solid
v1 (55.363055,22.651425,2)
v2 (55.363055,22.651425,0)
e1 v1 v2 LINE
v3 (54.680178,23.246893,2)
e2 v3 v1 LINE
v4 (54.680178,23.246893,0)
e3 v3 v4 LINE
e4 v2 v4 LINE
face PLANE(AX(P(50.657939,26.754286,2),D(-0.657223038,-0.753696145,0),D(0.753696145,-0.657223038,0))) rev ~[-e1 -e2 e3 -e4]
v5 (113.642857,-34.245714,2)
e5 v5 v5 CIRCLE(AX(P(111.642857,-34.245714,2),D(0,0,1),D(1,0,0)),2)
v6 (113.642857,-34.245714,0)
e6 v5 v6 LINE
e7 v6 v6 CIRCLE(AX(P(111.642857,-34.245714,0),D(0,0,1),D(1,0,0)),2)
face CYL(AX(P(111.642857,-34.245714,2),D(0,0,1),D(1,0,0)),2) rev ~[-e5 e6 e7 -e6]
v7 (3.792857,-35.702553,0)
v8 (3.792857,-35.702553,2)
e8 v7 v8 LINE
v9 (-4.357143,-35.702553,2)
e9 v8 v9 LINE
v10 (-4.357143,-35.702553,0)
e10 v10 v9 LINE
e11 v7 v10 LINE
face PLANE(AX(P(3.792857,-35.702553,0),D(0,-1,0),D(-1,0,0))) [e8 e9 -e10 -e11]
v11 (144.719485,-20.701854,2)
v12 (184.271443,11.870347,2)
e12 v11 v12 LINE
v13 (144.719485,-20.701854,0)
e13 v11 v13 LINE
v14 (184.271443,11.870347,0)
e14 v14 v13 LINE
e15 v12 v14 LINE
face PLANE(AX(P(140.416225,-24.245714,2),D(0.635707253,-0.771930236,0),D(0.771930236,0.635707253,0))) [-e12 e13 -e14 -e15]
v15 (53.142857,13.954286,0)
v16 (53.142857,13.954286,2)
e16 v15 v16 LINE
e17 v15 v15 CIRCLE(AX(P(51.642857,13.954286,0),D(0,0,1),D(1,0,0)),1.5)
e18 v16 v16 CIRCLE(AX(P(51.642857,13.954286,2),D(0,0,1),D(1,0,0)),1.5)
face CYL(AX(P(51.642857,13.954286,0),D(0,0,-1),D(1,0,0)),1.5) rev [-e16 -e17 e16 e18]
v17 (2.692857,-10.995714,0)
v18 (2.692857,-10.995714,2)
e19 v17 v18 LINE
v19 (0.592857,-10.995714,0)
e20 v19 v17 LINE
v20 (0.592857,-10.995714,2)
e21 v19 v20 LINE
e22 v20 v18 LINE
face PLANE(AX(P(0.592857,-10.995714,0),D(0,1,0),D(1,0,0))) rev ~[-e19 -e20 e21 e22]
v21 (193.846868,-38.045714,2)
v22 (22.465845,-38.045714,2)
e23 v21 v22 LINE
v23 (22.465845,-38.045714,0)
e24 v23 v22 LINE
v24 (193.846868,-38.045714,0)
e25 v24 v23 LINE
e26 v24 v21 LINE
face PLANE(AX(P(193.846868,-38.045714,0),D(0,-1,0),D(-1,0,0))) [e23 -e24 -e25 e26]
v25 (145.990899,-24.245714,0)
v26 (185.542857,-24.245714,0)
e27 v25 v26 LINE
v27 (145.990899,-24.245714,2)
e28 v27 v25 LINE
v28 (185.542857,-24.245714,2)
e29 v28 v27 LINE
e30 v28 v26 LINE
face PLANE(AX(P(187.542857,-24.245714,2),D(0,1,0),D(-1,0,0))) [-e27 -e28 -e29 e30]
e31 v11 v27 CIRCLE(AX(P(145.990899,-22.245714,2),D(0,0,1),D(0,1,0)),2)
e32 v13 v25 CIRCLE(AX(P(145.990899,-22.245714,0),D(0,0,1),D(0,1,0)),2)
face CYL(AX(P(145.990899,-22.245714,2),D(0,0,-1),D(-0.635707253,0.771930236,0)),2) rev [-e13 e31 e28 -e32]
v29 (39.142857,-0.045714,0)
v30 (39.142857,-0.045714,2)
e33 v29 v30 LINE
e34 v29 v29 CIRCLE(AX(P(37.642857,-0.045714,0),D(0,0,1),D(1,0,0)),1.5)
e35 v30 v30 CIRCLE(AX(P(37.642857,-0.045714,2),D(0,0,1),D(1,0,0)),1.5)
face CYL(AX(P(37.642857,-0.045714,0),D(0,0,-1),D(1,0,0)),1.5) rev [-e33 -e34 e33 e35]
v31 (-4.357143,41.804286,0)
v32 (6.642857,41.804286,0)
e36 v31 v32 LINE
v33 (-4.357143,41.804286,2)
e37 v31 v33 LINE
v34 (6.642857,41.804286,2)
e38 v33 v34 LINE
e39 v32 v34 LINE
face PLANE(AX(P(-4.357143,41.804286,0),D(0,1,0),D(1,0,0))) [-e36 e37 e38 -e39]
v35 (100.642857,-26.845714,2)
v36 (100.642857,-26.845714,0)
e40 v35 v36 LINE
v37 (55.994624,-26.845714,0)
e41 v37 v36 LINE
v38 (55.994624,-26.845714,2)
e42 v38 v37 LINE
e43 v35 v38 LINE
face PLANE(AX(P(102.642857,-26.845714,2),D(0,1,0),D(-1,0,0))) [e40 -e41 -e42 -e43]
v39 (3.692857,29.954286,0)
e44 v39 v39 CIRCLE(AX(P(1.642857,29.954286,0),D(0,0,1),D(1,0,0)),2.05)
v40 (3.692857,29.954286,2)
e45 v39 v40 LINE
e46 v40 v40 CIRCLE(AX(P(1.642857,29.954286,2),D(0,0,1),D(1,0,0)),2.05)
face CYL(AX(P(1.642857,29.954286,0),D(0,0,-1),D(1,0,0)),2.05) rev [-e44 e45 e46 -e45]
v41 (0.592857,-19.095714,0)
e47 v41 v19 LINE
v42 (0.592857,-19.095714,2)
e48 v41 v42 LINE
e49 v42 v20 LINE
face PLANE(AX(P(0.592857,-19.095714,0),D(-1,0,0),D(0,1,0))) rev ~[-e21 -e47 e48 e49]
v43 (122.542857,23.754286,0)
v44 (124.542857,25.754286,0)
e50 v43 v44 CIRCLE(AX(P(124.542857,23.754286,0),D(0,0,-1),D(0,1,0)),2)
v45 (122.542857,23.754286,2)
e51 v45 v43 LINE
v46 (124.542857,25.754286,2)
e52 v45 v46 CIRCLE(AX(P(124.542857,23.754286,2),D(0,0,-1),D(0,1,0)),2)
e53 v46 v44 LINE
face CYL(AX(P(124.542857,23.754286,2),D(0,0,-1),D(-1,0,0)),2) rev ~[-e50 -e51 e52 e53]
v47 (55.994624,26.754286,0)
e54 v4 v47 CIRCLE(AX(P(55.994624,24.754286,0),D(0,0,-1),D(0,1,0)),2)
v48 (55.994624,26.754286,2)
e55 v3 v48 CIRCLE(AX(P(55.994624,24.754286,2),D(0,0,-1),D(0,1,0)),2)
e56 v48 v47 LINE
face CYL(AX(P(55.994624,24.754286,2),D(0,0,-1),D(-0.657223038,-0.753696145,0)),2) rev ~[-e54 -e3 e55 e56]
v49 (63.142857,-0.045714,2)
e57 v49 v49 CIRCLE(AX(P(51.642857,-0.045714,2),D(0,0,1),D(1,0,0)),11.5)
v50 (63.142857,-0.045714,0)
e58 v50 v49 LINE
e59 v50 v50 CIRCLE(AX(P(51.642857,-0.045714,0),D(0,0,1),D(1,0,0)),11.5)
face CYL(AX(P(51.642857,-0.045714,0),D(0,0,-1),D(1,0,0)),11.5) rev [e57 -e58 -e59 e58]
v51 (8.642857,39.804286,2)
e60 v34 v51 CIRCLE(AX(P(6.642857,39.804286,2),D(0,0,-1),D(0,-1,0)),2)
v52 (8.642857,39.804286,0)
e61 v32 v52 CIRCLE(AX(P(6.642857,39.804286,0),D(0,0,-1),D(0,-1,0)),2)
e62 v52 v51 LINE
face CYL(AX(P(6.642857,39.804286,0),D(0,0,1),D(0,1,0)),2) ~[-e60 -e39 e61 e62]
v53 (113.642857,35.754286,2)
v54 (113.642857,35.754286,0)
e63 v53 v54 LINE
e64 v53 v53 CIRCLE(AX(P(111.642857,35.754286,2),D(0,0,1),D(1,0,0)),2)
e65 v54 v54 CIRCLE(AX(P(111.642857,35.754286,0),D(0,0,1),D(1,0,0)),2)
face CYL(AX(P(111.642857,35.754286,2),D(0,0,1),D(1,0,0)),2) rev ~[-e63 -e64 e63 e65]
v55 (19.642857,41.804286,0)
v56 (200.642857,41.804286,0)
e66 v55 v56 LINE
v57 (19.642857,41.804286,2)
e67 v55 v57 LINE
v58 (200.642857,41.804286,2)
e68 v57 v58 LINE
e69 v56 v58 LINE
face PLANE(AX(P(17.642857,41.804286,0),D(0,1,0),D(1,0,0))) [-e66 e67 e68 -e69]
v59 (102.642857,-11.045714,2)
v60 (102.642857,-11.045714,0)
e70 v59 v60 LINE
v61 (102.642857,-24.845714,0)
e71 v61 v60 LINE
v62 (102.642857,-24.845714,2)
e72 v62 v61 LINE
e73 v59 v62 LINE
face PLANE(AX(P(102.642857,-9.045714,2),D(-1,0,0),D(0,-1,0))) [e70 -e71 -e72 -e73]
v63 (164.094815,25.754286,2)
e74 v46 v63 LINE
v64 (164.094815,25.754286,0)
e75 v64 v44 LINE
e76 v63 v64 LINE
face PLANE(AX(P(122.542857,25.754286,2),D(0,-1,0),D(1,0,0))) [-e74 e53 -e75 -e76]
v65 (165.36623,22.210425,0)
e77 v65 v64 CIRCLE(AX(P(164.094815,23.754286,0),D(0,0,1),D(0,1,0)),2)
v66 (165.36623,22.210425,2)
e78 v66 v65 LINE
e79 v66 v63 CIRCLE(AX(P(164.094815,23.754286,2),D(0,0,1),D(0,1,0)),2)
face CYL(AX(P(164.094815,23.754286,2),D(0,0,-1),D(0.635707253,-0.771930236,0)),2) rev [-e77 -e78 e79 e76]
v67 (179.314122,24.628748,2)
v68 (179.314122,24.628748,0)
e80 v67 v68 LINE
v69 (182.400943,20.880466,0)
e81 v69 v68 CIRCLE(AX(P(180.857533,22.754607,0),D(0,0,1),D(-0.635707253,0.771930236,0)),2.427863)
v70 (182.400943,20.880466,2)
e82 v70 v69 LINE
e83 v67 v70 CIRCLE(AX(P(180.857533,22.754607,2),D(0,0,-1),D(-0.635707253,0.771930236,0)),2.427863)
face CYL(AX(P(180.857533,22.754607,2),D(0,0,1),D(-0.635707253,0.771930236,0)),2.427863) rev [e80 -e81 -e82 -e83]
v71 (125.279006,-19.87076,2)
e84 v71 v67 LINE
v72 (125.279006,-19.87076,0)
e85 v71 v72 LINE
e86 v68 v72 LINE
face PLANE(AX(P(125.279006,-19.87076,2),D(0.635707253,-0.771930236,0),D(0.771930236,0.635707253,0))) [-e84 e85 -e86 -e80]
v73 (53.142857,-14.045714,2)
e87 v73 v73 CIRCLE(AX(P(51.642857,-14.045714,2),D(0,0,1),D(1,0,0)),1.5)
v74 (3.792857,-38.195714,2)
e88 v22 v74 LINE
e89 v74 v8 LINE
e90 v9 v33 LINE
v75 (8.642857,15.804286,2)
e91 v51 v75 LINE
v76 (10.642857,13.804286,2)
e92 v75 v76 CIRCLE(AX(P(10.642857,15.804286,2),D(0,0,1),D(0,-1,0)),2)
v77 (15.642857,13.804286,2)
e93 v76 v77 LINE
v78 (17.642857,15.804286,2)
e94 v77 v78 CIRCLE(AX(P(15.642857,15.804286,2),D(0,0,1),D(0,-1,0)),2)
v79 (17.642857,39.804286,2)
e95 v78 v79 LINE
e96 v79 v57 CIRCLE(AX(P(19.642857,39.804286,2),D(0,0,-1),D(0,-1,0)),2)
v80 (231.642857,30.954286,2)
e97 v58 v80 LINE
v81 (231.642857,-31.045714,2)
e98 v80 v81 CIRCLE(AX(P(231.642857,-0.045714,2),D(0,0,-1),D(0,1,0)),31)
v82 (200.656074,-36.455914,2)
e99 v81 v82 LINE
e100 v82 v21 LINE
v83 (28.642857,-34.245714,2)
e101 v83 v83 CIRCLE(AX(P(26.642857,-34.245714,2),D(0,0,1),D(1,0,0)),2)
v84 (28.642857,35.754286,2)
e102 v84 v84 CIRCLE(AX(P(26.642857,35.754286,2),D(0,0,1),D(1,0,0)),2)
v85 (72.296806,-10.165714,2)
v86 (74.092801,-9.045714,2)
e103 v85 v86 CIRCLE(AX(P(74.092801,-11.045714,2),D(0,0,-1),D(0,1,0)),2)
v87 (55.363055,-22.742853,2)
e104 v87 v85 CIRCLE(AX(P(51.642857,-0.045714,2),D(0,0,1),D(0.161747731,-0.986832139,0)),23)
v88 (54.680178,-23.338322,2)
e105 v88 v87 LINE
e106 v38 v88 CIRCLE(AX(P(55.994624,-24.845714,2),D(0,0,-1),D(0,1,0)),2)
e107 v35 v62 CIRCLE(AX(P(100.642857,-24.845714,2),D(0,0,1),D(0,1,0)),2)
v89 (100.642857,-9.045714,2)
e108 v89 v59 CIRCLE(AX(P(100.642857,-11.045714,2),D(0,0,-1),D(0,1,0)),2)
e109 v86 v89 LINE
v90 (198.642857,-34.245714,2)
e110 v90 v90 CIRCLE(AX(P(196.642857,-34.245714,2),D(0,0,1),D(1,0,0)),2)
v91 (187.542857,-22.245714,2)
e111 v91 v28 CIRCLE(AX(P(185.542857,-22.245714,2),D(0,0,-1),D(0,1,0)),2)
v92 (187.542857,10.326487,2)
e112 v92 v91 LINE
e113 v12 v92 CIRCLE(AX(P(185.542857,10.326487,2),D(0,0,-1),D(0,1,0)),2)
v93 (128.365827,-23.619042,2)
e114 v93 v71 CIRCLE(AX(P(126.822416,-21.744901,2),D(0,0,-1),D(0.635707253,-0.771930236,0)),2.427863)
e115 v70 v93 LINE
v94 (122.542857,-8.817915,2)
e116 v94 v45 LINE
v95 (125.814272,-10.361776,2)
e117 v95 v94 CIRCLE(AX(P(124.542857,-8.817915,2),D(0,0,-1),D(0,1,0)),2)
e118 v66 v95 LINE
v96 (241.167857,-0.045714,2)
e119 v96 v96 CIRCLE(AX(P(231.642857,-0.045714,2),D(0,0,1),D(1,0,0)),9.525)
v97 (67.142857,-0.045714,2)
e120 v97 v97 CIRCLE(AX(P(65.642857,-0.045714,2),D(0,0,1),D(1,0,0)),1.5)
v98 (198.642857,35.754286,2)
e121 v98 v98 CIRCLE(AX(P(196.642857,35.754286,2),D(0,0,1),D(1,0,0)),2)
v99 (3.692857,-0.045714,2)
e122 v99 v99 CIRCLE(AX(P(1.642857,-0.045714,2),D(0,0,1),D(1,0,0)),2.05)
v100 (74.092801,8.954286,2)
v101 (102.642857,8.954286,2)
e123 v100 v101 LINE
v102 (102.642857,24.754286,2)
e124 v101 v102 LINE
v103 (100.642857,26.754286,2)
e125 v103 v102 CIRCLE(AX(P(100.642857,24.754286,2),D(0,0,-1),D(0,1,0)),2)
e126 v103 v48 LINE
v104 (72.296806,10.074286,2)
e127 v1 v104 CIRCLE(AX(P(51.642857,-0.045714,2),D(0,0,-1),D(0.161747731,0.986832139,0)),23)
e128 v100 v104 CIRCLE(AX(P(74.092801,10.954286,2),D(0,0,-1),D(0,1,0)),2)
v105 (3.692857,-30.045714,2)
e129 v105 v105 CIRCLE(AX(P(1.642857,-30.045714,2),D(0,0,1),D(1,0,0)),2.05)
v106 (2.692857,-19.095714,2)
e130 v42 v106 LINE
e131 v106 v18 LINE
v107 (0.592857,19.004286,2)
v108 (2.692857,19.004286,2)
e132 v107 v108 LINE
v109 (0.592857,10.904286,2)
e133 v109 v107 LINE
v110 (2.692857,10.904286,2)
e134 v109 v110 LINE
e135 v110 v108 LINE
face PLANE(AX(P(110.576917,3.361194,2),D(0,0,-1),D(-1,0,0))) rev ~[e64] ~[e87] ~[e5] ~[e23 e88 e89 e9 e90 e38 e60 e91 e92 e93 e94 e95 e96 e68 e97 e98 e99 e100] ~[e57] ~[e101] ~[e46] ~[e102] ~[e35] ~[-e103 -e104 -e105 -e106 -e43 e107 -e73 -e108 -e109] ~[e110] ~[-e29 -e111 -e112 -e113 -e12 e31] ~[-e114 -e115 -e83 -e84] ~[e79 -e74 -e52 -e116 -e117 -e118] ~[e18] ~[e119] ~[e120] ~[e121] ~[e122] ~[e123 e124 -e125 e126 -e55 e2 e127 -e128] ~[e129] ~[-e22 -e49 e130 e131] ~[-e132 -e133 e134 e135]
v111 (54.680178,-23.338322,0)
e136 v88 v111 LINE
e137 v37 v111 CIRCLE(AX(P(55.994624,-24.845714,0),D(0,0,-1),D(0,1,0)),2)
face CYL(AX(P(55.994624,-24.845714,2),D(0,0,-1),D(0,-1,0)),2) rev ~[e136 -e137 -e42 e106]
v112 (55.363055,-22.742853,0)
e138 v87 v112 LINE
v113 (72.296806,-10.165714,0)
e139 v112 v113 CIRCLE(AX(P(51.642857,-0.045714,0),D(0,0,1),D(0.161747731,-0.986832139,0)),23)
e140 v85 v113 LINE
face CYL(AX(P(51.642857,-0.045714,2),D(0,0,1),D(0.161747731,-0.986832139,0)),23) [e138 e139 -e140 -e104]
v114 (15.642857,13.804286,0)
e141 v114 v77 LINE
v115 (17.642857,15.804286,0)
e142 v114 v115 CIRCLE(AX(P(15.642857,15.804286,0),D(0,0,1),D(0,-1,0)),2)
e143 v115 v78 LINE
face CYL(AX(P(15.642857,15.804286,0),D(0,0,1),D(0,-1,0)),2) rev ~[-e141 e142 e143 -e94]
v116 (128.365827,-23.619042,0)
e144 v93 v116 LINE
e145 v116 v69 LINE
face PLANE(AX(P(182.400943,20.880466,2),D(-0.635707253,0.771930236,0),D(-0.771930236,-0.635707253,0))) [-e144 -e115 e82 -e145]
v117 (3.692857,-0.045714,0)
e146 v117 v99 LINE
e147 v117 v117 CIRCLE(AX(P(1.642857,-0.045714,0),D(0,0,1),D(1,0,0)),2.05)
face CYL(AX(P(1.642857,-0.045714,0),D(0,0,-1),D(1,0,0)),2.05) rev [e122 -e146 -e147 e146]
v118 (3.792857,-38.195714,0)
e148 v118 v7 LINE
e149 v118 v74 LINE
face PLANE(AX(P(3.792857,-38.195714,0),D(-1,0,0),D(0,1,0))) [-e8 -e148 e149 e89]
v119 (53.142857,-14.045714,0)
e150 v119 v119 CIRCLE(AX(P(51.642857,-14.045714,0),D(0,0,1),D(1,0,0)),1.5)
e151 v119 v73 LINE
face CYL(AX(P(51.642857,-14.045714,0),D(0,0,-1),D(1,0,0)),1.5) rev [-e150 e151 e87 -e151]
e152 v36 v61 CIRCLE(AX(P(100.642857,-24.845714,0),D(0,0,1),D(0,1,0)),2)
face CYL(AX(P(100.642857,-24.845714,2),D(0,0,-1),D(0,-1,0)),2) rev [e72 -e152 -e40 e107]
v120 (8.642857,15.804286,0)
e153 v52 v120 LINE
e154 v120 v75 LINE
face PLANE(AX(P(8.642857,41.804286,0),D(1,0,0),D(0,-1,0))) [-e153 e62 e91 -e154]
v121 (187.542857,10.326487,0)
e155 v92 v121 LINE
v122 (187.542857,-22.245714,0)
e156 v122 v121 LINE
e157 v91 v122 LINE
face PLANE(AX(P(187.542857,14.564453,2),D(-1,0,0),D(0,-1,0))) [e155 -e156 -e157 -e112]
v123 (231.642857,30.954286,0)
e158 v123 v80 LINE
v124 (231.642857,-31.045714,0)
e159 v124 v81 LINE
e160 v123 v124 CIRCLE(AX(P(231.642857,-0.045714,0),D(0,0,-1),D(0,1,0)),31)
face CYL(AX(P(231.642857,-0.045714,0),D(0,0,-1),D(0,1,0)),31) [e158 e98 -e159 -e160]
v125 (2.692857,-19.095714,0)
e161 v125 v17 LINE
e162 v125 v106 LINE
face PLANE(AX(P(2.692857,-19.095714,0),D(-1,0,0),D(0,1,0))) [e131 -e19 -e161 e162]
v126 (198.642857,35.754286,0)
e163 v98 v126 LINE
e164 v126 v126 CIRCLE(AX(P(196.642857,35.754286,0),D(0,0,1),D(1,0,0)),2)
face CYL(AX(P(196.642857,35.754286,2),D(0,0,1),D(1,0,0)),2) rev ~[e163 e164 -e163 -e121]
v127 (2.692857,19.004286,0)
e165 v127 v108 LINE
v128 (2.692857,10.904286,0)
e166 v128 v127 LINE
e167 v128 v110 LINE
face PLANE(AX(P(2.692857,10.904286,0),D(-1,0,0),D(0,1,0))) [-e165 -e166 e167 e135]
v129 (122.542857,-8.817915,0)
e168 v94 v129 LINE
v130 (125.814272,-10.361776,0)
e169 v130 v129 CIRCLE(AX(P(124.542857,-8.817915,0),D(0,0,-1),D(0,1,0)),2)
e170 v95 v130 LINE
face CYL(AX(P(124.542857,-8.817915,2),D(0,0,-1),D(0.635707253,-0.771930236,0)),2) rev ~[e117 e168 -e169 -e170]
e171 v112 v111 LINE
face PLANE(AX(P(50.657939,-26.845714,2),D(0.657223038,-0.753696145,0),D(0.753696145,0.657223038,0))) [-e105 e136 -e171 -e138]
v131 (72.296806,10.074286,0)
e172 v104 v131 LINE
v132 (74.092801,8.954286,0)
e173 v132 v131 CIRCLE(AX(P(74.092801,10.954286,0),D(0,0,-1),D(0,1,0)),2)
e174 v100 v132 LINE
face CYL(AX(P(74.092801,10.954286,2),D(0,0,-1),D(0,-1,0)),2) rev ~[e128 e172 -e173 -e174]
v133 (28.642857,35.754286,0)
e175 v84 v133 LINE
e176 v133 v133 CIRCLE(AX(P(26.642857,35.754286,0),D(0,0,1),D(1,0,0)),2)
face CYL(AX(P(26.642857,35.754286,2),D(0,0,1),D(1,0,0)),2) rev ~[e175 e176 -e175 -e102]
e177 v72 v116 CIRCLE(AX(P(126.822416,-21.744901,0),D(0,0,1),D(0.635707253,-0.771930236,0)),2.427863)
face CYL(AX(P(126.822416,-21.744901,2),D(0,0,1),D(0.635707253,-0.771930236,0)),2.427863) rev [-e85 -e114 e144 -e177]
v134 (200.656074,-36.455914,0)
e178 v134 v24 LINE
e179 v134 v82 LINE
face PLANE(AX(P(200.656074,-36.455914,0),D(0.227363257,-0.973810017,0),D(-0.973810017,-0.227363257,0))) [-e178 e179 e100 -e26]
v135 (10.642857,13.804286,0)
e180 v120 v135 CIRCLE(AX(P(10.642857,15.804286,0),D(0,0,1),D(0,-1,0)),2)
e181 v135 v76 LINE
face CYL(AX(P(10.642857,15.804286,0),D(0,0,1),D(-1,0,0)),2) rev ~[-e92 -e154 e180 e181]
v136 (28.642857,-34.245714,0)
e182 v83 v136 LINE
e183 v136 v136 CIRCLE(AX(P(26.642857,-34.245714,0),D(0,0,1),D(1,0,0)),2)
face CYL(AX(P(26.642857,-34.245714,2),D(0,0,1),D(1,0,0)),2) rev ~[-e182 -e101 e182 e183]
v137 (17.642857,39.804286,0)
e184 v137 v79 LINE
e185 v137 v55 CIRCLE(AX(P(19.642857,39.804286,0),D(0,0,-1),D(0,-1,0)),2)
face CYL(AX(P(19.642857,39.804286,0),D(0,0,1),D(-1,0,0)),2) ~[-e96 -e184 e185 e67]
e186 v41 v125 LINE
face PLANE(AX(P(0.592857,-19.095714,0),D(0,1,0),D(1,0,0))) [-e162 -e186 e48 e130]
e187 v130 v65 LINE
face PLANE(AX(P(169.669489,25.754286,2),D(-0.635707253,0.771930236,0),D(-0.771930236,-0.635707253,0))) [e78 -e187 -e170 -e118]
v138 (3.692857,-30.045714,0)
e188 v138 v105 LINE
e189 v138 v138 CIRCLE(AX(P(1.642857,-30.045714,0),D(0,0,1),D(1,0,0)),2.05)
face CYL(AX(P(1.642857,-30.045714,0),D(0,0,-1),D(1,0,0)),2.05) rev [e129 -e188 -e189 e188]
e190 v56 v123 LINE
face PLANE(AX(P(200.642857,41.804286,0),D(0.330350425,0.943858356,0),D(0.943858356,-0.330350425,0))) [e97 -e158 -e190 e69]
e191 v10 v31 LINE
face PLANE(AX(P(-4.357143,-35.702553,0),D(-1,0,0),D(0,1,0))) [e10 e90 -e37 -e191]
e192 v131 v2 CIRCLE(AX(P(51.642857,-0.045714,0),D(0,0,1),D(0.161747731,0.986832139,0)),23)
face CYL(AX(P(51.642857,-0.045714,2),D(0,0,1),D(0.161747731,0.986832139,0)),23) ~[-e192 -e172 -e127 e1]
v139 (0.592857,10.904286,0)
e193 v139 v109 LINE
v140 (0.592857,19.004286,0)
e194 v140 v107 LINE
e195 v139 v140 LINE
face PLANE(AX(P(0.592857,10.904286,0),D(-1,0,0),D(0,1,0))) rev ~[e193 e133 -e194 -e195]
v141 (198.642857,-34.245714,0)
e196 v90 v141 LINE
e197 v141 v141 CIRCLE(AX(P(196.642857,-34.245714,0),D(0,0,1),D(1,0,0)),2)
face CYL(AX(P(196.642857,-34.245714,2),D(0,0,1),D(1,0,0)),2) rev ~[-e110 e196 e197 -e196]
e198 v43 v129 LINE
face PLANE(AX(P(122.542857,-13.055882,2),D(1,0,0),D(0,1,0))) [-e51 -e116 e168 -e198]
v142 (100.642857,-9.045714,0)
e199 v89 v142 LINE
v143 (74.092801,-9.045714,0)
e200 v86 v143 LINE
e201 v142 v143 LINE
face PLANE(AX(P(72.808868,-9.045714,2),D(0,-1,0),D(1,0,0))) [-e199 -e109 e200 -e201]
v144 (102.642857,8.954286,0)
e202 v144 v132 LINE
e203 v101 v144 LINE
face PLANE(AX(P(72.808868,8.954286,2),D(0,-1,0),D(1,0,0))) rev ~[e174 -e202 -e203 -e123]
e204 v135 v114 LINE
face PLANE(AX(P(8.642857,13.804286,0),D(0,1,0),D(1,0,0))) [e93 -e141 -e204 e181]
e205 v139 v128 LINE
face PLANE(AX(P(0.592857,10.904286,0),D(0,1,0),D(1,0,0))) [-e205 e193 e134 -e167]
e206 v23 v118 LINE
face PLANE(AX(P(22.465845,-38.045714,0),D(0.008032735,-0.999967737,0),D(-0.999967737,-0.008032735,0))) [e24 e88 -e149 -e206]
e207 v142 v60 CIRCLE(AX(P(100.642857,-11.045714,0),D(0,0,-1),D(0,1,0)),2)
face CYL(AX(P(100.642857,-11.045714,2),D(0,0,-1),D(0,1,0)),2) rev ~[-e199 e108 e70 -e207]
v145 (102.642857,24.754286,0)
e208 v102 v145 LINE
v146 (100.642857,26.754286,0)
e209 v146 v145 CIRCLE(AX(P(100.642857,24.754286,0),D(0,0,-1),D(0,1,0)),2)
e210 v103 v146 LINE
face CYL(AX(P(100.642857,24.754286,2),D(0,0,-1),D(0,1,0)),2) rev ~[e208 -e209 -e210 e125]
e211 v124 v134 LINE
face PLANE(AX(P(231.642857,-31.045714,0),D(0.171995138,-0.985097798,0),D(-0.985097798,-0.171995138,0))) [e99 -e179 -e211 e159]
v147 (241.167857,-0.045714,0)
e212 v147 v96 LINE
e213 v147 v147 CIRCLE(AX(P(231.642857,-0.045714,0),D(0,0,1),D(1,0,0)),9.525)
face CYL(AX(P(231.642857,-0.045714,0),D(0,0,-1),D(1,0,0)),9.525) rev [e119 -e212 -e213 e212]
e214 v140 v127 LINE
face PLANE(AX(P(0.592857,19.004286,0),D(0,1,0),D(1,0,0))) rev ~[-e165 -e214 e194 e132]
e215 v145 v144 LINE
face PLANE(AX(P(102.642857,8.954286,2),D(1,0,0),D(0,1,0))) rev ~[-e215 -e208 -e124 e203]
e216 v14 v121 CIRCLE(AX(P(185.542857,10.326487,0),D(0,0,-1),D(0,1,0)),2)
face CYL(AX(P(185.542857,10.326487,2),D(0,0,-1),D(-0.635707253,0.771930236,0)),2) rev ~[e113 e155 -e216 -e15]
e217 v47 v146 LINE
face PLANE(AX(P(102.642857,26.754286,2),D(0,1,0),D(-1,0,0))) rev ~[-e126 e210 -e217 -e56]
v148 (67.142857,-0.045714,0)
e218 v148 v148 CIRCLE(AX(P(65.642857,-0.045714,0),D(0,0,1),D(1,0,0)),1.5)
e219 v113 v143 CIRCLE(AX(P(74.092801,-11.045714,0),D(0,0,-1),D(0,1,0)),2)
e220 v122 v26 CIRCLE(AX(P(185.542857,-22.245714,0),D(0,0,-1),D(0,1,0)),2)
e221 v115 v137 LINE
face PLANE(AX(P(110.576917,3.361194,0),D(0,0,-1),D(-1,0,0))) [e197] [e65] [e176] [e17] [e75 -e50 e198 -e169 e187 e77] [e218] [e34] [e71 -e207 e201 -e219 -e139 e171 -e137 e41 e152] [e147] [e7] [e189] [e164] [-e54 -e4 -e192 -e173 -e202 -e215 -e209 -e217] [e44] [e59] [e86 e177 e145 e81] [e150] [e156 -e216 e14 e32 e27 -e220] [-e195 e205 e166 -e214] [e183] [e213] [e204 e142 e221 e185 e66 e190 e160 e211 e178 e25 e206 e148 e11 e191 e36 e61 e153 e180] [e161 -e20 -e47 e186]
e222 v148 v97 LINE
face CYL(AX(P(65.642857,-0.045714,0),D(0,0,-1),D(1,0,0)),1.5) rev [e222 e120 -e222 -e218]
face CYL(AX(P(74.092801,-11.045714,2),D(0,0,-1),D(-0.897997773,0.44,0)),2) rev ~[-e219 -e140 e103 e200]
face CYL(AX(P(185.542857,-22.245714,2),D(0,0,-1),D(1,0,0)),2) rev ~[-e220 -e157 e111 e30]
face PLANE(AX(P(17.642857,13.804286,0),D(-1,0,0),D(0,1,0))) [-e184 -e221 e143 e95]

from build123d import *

# Parameters (mm, degrees)
SKETCH_1_R          = 2.05
SKETCH_1_R_2        = 11.5
SKETCH_1_R_3        = 1.5
SKETCH_1_R_4        = 9.525
SKETCH_1_W          = 2.1
SKETCH_1_H          = 8.1
EXTRUDE_1_DEPTH     = 2
SKETCH_2_R          = 2
CUT_EXTRUDE_1_DEPTH = 4
FILLET_1_R          = 2


with BuildPart() as part:
    # 草图1 → 凸台-拉伸1 (new body)
    with BuildSketch(Plane.XY):
        with BuildLine():
            Line((-4.357142857, -0.045714286), (-4.357142857, 41.804285714))
            Line((-4.357142857, 41.804285714), (8.642857143, 41.804285714))
            Line((8.642857143, 41.804285714), (8.642857143, 13.804285714))
            Line((8.642857143, 13.804285714), (17.642857143, 13.804285714))
            Line((17.642857143, 13.804285714), (17.642857143, 41.804285714))
            Line((17.642857143, 41.804285714), (200.642857143, 41.804285714))
            Line((200.642857143, 41.804285714), (231.642857143, 30.954285714))
            ThreePointArc((231.642857143, 30.954285714), (262.642857143, -0.045714286), (231.642857143, -31.045714286))
            Line((231.642857143, -31.045714286), (200.656073527, -36.45591431))
            Line((200.656073527, -36.45591431), (193.846868021, -38.045714286))
            Line((193.846868021, -38.045714286), (22.465844759, -38.045714286))
            Line((22.465844759, -38.045714286), (3.792857143, -38.195714286))
            Line((3.792857143, -38.195714286), (3.792857143, -35.702553436))
            Line((3.792857143, -35.702553436), (-4.357142857, -35.702553436))
            Line((-4.357142857, -35.702553436), (-4.357142857, -0.045714286))
        make_face()
        with Locations((1.642857143, 29.954285714)):
            Circle(SKETCH_1_R, mode=Mode.SUBTRACT)
        with Locations((1.642857143, -0.045714286)):
            Circle(SKETCH_1_R, mode=Mode.SUBTRACT)
        with Locations((1.642857143, -30.045714286)):
            Circle(SKETCH_1_R, mode=Mode.SUBTRACT)
        with Locations((51.642857143, -0.045714286)):
            Circle(SKETCH_1_R_2, mode=Mode.SUBTRACT)
        with Locations((51.642857143, -14.045714286)):
            Circle(SKETCH_1_R_3, mode=Mode.SUBTRACT)
        with Locations((37.642857143, -0.045714286)):
            Circle(SKETCH_1_R_3, mode=Mode.SUBTRACT)
        with Locations((51.642857143, 13.954285714)):
            Circle(SKETCH_1_R_3, mode=Mode.SUBTRACT)
        with Locations((65.642857143, -0.045714286)):
            Circle(SKETCH_1_R_3, mode=Mode.SUBTRACT)
        with Locations((231.642857143, -0.045714286)):
            Circle(SKETCH_1_R_4, mode=Mode.SUBTRACT)
        with Locations((1.642857143, 14.954285714)):
            Rectangle(SKETCH_1_W, SKETCH_1_H, mode=Mode.SUBTRACT)
        with Locations((1.642857143, -15.045714286)):
            Rectangle(SKETCH_1_W, SKETCH_1_H, mode=Mode.SUBTRACT)
    extrude(amount=EXTRUDE_1_DEPTH)

    # 草图2 → 切除-拉伸1 (cut)
    with BuildSketch(Plane.XY.offset(2)):
        with Locations((26.642857143, 35.754285714)):
            Circle(SKETCH_2_R)
        with Locations((111.642857143, 35.754285714)):
            Circle(SKETCH_2_R)
        with Locations((196.642857143, 35.754285714)):
            Circle(SKETCH_2_R)
        with Locations((111.642857143, -34.245714286)):
            Circle(SKETCH_2_R)
        with Locations((196.642857143, -34.245714286)):
            Circle(SKETCH_2_R)
        with Locations((26.642857143, -34.245714286)):
            Circle(SKETCH_2_R)
        Polygon((187.542857143, -24.245714286), (140.41622539, -24.245714286), (187.542857143, 14.56445304), align=None)
        Polygon((122.542857143, 25.754285714), (169.669488896, 25.754285714), (122.542857143, -13.055881612), align=None)
        with BuildLine():
            Line((72.808867631, 8.954285714), (102.642857143, 8.954285714))
            Line((102.642857143, 8.954285714), (102.642857143, 26.754285714))
            Line((102.642857143, 26.754285714), (50.657939371, 26.754285714))
            Line((50.657939371, 26.754285714), (55.363054959, 22.651424922))
            ThreePointArc((55.363054959, 22.651424922), (65.846157695, 18.044787461), (72.808867631, 8.954285714))
        make_face()
        with BuildLine():
            Line((102.642857143, -9.045714286), (102.642857143, -26.845714286))
            Line((102.642857143, -26.845714286), (50.657939371, -26.845714286))
            Line((50.657939371, -26.845714286), (55.363054959, -22.742853493))
            ThreePointArc((55.363054959, -22.742853493), (65.846157695, -18.136216032), (72.808867631, -9.045714286))
            Line((72.808867631, -9.045714286), (102.642857143, -9.045714286))
        make_face()
        with BuildLine():
            Line((125.279005787, -19.870759717), (179.314122281, 24.628747983))
            ThreePointArc((179.314122281, 24.628747983), (182.731673921, 24.298017179), (182.400943117, 20.880465538))
            Line((182.400943117, 20.880465538), (128.365826624, -23.619042162))
            ThreePointArc((128.365826624, -23.619042162), (124.948274984, -23.288311358), (125.279005787, -19.870759717))
        make_face()
    extrude(amount=-CUT_EXTRUDE_1_DEPTH, mode=Mode.SUBTRACT)

    # 圆角1
    fillet_1_edges = [part.edges().sort_by_distance(p)[0] for p in [
        (72.808867631, 8.954285714, 1),
        (50.657939371, 26.754285714, 1),
        (102.642857143, 26.754285714, 1),
        (122.542857143, -13.055881612, 1),
        (122.542857143, 25.754285714, 1),
        (169.669488896, 25.754285714, 1),
        (187.542857143, 14.56445304, 1),
        (187.542857143, -24.245714286, 1),
        (140.41622539, -24.245714286, 1),
        (102.642857143, -26.845714286, 1),
        (50.657939371, -26.845714286, 1),
        (72.808867631, -9.045714286, 1),
        (102.642857143, -9.045714286, 1),
        (8.642857143, 41.804285714, 1),
        (8.642857143, 13.804285714, 1),
        (17.642857143, 13.804285714, 1),
        (17.642857143, 41.804285714, 1),
    ]]
    fillet(fillet_1_edges, radius=FILLET_1_R)


solid = part.part
